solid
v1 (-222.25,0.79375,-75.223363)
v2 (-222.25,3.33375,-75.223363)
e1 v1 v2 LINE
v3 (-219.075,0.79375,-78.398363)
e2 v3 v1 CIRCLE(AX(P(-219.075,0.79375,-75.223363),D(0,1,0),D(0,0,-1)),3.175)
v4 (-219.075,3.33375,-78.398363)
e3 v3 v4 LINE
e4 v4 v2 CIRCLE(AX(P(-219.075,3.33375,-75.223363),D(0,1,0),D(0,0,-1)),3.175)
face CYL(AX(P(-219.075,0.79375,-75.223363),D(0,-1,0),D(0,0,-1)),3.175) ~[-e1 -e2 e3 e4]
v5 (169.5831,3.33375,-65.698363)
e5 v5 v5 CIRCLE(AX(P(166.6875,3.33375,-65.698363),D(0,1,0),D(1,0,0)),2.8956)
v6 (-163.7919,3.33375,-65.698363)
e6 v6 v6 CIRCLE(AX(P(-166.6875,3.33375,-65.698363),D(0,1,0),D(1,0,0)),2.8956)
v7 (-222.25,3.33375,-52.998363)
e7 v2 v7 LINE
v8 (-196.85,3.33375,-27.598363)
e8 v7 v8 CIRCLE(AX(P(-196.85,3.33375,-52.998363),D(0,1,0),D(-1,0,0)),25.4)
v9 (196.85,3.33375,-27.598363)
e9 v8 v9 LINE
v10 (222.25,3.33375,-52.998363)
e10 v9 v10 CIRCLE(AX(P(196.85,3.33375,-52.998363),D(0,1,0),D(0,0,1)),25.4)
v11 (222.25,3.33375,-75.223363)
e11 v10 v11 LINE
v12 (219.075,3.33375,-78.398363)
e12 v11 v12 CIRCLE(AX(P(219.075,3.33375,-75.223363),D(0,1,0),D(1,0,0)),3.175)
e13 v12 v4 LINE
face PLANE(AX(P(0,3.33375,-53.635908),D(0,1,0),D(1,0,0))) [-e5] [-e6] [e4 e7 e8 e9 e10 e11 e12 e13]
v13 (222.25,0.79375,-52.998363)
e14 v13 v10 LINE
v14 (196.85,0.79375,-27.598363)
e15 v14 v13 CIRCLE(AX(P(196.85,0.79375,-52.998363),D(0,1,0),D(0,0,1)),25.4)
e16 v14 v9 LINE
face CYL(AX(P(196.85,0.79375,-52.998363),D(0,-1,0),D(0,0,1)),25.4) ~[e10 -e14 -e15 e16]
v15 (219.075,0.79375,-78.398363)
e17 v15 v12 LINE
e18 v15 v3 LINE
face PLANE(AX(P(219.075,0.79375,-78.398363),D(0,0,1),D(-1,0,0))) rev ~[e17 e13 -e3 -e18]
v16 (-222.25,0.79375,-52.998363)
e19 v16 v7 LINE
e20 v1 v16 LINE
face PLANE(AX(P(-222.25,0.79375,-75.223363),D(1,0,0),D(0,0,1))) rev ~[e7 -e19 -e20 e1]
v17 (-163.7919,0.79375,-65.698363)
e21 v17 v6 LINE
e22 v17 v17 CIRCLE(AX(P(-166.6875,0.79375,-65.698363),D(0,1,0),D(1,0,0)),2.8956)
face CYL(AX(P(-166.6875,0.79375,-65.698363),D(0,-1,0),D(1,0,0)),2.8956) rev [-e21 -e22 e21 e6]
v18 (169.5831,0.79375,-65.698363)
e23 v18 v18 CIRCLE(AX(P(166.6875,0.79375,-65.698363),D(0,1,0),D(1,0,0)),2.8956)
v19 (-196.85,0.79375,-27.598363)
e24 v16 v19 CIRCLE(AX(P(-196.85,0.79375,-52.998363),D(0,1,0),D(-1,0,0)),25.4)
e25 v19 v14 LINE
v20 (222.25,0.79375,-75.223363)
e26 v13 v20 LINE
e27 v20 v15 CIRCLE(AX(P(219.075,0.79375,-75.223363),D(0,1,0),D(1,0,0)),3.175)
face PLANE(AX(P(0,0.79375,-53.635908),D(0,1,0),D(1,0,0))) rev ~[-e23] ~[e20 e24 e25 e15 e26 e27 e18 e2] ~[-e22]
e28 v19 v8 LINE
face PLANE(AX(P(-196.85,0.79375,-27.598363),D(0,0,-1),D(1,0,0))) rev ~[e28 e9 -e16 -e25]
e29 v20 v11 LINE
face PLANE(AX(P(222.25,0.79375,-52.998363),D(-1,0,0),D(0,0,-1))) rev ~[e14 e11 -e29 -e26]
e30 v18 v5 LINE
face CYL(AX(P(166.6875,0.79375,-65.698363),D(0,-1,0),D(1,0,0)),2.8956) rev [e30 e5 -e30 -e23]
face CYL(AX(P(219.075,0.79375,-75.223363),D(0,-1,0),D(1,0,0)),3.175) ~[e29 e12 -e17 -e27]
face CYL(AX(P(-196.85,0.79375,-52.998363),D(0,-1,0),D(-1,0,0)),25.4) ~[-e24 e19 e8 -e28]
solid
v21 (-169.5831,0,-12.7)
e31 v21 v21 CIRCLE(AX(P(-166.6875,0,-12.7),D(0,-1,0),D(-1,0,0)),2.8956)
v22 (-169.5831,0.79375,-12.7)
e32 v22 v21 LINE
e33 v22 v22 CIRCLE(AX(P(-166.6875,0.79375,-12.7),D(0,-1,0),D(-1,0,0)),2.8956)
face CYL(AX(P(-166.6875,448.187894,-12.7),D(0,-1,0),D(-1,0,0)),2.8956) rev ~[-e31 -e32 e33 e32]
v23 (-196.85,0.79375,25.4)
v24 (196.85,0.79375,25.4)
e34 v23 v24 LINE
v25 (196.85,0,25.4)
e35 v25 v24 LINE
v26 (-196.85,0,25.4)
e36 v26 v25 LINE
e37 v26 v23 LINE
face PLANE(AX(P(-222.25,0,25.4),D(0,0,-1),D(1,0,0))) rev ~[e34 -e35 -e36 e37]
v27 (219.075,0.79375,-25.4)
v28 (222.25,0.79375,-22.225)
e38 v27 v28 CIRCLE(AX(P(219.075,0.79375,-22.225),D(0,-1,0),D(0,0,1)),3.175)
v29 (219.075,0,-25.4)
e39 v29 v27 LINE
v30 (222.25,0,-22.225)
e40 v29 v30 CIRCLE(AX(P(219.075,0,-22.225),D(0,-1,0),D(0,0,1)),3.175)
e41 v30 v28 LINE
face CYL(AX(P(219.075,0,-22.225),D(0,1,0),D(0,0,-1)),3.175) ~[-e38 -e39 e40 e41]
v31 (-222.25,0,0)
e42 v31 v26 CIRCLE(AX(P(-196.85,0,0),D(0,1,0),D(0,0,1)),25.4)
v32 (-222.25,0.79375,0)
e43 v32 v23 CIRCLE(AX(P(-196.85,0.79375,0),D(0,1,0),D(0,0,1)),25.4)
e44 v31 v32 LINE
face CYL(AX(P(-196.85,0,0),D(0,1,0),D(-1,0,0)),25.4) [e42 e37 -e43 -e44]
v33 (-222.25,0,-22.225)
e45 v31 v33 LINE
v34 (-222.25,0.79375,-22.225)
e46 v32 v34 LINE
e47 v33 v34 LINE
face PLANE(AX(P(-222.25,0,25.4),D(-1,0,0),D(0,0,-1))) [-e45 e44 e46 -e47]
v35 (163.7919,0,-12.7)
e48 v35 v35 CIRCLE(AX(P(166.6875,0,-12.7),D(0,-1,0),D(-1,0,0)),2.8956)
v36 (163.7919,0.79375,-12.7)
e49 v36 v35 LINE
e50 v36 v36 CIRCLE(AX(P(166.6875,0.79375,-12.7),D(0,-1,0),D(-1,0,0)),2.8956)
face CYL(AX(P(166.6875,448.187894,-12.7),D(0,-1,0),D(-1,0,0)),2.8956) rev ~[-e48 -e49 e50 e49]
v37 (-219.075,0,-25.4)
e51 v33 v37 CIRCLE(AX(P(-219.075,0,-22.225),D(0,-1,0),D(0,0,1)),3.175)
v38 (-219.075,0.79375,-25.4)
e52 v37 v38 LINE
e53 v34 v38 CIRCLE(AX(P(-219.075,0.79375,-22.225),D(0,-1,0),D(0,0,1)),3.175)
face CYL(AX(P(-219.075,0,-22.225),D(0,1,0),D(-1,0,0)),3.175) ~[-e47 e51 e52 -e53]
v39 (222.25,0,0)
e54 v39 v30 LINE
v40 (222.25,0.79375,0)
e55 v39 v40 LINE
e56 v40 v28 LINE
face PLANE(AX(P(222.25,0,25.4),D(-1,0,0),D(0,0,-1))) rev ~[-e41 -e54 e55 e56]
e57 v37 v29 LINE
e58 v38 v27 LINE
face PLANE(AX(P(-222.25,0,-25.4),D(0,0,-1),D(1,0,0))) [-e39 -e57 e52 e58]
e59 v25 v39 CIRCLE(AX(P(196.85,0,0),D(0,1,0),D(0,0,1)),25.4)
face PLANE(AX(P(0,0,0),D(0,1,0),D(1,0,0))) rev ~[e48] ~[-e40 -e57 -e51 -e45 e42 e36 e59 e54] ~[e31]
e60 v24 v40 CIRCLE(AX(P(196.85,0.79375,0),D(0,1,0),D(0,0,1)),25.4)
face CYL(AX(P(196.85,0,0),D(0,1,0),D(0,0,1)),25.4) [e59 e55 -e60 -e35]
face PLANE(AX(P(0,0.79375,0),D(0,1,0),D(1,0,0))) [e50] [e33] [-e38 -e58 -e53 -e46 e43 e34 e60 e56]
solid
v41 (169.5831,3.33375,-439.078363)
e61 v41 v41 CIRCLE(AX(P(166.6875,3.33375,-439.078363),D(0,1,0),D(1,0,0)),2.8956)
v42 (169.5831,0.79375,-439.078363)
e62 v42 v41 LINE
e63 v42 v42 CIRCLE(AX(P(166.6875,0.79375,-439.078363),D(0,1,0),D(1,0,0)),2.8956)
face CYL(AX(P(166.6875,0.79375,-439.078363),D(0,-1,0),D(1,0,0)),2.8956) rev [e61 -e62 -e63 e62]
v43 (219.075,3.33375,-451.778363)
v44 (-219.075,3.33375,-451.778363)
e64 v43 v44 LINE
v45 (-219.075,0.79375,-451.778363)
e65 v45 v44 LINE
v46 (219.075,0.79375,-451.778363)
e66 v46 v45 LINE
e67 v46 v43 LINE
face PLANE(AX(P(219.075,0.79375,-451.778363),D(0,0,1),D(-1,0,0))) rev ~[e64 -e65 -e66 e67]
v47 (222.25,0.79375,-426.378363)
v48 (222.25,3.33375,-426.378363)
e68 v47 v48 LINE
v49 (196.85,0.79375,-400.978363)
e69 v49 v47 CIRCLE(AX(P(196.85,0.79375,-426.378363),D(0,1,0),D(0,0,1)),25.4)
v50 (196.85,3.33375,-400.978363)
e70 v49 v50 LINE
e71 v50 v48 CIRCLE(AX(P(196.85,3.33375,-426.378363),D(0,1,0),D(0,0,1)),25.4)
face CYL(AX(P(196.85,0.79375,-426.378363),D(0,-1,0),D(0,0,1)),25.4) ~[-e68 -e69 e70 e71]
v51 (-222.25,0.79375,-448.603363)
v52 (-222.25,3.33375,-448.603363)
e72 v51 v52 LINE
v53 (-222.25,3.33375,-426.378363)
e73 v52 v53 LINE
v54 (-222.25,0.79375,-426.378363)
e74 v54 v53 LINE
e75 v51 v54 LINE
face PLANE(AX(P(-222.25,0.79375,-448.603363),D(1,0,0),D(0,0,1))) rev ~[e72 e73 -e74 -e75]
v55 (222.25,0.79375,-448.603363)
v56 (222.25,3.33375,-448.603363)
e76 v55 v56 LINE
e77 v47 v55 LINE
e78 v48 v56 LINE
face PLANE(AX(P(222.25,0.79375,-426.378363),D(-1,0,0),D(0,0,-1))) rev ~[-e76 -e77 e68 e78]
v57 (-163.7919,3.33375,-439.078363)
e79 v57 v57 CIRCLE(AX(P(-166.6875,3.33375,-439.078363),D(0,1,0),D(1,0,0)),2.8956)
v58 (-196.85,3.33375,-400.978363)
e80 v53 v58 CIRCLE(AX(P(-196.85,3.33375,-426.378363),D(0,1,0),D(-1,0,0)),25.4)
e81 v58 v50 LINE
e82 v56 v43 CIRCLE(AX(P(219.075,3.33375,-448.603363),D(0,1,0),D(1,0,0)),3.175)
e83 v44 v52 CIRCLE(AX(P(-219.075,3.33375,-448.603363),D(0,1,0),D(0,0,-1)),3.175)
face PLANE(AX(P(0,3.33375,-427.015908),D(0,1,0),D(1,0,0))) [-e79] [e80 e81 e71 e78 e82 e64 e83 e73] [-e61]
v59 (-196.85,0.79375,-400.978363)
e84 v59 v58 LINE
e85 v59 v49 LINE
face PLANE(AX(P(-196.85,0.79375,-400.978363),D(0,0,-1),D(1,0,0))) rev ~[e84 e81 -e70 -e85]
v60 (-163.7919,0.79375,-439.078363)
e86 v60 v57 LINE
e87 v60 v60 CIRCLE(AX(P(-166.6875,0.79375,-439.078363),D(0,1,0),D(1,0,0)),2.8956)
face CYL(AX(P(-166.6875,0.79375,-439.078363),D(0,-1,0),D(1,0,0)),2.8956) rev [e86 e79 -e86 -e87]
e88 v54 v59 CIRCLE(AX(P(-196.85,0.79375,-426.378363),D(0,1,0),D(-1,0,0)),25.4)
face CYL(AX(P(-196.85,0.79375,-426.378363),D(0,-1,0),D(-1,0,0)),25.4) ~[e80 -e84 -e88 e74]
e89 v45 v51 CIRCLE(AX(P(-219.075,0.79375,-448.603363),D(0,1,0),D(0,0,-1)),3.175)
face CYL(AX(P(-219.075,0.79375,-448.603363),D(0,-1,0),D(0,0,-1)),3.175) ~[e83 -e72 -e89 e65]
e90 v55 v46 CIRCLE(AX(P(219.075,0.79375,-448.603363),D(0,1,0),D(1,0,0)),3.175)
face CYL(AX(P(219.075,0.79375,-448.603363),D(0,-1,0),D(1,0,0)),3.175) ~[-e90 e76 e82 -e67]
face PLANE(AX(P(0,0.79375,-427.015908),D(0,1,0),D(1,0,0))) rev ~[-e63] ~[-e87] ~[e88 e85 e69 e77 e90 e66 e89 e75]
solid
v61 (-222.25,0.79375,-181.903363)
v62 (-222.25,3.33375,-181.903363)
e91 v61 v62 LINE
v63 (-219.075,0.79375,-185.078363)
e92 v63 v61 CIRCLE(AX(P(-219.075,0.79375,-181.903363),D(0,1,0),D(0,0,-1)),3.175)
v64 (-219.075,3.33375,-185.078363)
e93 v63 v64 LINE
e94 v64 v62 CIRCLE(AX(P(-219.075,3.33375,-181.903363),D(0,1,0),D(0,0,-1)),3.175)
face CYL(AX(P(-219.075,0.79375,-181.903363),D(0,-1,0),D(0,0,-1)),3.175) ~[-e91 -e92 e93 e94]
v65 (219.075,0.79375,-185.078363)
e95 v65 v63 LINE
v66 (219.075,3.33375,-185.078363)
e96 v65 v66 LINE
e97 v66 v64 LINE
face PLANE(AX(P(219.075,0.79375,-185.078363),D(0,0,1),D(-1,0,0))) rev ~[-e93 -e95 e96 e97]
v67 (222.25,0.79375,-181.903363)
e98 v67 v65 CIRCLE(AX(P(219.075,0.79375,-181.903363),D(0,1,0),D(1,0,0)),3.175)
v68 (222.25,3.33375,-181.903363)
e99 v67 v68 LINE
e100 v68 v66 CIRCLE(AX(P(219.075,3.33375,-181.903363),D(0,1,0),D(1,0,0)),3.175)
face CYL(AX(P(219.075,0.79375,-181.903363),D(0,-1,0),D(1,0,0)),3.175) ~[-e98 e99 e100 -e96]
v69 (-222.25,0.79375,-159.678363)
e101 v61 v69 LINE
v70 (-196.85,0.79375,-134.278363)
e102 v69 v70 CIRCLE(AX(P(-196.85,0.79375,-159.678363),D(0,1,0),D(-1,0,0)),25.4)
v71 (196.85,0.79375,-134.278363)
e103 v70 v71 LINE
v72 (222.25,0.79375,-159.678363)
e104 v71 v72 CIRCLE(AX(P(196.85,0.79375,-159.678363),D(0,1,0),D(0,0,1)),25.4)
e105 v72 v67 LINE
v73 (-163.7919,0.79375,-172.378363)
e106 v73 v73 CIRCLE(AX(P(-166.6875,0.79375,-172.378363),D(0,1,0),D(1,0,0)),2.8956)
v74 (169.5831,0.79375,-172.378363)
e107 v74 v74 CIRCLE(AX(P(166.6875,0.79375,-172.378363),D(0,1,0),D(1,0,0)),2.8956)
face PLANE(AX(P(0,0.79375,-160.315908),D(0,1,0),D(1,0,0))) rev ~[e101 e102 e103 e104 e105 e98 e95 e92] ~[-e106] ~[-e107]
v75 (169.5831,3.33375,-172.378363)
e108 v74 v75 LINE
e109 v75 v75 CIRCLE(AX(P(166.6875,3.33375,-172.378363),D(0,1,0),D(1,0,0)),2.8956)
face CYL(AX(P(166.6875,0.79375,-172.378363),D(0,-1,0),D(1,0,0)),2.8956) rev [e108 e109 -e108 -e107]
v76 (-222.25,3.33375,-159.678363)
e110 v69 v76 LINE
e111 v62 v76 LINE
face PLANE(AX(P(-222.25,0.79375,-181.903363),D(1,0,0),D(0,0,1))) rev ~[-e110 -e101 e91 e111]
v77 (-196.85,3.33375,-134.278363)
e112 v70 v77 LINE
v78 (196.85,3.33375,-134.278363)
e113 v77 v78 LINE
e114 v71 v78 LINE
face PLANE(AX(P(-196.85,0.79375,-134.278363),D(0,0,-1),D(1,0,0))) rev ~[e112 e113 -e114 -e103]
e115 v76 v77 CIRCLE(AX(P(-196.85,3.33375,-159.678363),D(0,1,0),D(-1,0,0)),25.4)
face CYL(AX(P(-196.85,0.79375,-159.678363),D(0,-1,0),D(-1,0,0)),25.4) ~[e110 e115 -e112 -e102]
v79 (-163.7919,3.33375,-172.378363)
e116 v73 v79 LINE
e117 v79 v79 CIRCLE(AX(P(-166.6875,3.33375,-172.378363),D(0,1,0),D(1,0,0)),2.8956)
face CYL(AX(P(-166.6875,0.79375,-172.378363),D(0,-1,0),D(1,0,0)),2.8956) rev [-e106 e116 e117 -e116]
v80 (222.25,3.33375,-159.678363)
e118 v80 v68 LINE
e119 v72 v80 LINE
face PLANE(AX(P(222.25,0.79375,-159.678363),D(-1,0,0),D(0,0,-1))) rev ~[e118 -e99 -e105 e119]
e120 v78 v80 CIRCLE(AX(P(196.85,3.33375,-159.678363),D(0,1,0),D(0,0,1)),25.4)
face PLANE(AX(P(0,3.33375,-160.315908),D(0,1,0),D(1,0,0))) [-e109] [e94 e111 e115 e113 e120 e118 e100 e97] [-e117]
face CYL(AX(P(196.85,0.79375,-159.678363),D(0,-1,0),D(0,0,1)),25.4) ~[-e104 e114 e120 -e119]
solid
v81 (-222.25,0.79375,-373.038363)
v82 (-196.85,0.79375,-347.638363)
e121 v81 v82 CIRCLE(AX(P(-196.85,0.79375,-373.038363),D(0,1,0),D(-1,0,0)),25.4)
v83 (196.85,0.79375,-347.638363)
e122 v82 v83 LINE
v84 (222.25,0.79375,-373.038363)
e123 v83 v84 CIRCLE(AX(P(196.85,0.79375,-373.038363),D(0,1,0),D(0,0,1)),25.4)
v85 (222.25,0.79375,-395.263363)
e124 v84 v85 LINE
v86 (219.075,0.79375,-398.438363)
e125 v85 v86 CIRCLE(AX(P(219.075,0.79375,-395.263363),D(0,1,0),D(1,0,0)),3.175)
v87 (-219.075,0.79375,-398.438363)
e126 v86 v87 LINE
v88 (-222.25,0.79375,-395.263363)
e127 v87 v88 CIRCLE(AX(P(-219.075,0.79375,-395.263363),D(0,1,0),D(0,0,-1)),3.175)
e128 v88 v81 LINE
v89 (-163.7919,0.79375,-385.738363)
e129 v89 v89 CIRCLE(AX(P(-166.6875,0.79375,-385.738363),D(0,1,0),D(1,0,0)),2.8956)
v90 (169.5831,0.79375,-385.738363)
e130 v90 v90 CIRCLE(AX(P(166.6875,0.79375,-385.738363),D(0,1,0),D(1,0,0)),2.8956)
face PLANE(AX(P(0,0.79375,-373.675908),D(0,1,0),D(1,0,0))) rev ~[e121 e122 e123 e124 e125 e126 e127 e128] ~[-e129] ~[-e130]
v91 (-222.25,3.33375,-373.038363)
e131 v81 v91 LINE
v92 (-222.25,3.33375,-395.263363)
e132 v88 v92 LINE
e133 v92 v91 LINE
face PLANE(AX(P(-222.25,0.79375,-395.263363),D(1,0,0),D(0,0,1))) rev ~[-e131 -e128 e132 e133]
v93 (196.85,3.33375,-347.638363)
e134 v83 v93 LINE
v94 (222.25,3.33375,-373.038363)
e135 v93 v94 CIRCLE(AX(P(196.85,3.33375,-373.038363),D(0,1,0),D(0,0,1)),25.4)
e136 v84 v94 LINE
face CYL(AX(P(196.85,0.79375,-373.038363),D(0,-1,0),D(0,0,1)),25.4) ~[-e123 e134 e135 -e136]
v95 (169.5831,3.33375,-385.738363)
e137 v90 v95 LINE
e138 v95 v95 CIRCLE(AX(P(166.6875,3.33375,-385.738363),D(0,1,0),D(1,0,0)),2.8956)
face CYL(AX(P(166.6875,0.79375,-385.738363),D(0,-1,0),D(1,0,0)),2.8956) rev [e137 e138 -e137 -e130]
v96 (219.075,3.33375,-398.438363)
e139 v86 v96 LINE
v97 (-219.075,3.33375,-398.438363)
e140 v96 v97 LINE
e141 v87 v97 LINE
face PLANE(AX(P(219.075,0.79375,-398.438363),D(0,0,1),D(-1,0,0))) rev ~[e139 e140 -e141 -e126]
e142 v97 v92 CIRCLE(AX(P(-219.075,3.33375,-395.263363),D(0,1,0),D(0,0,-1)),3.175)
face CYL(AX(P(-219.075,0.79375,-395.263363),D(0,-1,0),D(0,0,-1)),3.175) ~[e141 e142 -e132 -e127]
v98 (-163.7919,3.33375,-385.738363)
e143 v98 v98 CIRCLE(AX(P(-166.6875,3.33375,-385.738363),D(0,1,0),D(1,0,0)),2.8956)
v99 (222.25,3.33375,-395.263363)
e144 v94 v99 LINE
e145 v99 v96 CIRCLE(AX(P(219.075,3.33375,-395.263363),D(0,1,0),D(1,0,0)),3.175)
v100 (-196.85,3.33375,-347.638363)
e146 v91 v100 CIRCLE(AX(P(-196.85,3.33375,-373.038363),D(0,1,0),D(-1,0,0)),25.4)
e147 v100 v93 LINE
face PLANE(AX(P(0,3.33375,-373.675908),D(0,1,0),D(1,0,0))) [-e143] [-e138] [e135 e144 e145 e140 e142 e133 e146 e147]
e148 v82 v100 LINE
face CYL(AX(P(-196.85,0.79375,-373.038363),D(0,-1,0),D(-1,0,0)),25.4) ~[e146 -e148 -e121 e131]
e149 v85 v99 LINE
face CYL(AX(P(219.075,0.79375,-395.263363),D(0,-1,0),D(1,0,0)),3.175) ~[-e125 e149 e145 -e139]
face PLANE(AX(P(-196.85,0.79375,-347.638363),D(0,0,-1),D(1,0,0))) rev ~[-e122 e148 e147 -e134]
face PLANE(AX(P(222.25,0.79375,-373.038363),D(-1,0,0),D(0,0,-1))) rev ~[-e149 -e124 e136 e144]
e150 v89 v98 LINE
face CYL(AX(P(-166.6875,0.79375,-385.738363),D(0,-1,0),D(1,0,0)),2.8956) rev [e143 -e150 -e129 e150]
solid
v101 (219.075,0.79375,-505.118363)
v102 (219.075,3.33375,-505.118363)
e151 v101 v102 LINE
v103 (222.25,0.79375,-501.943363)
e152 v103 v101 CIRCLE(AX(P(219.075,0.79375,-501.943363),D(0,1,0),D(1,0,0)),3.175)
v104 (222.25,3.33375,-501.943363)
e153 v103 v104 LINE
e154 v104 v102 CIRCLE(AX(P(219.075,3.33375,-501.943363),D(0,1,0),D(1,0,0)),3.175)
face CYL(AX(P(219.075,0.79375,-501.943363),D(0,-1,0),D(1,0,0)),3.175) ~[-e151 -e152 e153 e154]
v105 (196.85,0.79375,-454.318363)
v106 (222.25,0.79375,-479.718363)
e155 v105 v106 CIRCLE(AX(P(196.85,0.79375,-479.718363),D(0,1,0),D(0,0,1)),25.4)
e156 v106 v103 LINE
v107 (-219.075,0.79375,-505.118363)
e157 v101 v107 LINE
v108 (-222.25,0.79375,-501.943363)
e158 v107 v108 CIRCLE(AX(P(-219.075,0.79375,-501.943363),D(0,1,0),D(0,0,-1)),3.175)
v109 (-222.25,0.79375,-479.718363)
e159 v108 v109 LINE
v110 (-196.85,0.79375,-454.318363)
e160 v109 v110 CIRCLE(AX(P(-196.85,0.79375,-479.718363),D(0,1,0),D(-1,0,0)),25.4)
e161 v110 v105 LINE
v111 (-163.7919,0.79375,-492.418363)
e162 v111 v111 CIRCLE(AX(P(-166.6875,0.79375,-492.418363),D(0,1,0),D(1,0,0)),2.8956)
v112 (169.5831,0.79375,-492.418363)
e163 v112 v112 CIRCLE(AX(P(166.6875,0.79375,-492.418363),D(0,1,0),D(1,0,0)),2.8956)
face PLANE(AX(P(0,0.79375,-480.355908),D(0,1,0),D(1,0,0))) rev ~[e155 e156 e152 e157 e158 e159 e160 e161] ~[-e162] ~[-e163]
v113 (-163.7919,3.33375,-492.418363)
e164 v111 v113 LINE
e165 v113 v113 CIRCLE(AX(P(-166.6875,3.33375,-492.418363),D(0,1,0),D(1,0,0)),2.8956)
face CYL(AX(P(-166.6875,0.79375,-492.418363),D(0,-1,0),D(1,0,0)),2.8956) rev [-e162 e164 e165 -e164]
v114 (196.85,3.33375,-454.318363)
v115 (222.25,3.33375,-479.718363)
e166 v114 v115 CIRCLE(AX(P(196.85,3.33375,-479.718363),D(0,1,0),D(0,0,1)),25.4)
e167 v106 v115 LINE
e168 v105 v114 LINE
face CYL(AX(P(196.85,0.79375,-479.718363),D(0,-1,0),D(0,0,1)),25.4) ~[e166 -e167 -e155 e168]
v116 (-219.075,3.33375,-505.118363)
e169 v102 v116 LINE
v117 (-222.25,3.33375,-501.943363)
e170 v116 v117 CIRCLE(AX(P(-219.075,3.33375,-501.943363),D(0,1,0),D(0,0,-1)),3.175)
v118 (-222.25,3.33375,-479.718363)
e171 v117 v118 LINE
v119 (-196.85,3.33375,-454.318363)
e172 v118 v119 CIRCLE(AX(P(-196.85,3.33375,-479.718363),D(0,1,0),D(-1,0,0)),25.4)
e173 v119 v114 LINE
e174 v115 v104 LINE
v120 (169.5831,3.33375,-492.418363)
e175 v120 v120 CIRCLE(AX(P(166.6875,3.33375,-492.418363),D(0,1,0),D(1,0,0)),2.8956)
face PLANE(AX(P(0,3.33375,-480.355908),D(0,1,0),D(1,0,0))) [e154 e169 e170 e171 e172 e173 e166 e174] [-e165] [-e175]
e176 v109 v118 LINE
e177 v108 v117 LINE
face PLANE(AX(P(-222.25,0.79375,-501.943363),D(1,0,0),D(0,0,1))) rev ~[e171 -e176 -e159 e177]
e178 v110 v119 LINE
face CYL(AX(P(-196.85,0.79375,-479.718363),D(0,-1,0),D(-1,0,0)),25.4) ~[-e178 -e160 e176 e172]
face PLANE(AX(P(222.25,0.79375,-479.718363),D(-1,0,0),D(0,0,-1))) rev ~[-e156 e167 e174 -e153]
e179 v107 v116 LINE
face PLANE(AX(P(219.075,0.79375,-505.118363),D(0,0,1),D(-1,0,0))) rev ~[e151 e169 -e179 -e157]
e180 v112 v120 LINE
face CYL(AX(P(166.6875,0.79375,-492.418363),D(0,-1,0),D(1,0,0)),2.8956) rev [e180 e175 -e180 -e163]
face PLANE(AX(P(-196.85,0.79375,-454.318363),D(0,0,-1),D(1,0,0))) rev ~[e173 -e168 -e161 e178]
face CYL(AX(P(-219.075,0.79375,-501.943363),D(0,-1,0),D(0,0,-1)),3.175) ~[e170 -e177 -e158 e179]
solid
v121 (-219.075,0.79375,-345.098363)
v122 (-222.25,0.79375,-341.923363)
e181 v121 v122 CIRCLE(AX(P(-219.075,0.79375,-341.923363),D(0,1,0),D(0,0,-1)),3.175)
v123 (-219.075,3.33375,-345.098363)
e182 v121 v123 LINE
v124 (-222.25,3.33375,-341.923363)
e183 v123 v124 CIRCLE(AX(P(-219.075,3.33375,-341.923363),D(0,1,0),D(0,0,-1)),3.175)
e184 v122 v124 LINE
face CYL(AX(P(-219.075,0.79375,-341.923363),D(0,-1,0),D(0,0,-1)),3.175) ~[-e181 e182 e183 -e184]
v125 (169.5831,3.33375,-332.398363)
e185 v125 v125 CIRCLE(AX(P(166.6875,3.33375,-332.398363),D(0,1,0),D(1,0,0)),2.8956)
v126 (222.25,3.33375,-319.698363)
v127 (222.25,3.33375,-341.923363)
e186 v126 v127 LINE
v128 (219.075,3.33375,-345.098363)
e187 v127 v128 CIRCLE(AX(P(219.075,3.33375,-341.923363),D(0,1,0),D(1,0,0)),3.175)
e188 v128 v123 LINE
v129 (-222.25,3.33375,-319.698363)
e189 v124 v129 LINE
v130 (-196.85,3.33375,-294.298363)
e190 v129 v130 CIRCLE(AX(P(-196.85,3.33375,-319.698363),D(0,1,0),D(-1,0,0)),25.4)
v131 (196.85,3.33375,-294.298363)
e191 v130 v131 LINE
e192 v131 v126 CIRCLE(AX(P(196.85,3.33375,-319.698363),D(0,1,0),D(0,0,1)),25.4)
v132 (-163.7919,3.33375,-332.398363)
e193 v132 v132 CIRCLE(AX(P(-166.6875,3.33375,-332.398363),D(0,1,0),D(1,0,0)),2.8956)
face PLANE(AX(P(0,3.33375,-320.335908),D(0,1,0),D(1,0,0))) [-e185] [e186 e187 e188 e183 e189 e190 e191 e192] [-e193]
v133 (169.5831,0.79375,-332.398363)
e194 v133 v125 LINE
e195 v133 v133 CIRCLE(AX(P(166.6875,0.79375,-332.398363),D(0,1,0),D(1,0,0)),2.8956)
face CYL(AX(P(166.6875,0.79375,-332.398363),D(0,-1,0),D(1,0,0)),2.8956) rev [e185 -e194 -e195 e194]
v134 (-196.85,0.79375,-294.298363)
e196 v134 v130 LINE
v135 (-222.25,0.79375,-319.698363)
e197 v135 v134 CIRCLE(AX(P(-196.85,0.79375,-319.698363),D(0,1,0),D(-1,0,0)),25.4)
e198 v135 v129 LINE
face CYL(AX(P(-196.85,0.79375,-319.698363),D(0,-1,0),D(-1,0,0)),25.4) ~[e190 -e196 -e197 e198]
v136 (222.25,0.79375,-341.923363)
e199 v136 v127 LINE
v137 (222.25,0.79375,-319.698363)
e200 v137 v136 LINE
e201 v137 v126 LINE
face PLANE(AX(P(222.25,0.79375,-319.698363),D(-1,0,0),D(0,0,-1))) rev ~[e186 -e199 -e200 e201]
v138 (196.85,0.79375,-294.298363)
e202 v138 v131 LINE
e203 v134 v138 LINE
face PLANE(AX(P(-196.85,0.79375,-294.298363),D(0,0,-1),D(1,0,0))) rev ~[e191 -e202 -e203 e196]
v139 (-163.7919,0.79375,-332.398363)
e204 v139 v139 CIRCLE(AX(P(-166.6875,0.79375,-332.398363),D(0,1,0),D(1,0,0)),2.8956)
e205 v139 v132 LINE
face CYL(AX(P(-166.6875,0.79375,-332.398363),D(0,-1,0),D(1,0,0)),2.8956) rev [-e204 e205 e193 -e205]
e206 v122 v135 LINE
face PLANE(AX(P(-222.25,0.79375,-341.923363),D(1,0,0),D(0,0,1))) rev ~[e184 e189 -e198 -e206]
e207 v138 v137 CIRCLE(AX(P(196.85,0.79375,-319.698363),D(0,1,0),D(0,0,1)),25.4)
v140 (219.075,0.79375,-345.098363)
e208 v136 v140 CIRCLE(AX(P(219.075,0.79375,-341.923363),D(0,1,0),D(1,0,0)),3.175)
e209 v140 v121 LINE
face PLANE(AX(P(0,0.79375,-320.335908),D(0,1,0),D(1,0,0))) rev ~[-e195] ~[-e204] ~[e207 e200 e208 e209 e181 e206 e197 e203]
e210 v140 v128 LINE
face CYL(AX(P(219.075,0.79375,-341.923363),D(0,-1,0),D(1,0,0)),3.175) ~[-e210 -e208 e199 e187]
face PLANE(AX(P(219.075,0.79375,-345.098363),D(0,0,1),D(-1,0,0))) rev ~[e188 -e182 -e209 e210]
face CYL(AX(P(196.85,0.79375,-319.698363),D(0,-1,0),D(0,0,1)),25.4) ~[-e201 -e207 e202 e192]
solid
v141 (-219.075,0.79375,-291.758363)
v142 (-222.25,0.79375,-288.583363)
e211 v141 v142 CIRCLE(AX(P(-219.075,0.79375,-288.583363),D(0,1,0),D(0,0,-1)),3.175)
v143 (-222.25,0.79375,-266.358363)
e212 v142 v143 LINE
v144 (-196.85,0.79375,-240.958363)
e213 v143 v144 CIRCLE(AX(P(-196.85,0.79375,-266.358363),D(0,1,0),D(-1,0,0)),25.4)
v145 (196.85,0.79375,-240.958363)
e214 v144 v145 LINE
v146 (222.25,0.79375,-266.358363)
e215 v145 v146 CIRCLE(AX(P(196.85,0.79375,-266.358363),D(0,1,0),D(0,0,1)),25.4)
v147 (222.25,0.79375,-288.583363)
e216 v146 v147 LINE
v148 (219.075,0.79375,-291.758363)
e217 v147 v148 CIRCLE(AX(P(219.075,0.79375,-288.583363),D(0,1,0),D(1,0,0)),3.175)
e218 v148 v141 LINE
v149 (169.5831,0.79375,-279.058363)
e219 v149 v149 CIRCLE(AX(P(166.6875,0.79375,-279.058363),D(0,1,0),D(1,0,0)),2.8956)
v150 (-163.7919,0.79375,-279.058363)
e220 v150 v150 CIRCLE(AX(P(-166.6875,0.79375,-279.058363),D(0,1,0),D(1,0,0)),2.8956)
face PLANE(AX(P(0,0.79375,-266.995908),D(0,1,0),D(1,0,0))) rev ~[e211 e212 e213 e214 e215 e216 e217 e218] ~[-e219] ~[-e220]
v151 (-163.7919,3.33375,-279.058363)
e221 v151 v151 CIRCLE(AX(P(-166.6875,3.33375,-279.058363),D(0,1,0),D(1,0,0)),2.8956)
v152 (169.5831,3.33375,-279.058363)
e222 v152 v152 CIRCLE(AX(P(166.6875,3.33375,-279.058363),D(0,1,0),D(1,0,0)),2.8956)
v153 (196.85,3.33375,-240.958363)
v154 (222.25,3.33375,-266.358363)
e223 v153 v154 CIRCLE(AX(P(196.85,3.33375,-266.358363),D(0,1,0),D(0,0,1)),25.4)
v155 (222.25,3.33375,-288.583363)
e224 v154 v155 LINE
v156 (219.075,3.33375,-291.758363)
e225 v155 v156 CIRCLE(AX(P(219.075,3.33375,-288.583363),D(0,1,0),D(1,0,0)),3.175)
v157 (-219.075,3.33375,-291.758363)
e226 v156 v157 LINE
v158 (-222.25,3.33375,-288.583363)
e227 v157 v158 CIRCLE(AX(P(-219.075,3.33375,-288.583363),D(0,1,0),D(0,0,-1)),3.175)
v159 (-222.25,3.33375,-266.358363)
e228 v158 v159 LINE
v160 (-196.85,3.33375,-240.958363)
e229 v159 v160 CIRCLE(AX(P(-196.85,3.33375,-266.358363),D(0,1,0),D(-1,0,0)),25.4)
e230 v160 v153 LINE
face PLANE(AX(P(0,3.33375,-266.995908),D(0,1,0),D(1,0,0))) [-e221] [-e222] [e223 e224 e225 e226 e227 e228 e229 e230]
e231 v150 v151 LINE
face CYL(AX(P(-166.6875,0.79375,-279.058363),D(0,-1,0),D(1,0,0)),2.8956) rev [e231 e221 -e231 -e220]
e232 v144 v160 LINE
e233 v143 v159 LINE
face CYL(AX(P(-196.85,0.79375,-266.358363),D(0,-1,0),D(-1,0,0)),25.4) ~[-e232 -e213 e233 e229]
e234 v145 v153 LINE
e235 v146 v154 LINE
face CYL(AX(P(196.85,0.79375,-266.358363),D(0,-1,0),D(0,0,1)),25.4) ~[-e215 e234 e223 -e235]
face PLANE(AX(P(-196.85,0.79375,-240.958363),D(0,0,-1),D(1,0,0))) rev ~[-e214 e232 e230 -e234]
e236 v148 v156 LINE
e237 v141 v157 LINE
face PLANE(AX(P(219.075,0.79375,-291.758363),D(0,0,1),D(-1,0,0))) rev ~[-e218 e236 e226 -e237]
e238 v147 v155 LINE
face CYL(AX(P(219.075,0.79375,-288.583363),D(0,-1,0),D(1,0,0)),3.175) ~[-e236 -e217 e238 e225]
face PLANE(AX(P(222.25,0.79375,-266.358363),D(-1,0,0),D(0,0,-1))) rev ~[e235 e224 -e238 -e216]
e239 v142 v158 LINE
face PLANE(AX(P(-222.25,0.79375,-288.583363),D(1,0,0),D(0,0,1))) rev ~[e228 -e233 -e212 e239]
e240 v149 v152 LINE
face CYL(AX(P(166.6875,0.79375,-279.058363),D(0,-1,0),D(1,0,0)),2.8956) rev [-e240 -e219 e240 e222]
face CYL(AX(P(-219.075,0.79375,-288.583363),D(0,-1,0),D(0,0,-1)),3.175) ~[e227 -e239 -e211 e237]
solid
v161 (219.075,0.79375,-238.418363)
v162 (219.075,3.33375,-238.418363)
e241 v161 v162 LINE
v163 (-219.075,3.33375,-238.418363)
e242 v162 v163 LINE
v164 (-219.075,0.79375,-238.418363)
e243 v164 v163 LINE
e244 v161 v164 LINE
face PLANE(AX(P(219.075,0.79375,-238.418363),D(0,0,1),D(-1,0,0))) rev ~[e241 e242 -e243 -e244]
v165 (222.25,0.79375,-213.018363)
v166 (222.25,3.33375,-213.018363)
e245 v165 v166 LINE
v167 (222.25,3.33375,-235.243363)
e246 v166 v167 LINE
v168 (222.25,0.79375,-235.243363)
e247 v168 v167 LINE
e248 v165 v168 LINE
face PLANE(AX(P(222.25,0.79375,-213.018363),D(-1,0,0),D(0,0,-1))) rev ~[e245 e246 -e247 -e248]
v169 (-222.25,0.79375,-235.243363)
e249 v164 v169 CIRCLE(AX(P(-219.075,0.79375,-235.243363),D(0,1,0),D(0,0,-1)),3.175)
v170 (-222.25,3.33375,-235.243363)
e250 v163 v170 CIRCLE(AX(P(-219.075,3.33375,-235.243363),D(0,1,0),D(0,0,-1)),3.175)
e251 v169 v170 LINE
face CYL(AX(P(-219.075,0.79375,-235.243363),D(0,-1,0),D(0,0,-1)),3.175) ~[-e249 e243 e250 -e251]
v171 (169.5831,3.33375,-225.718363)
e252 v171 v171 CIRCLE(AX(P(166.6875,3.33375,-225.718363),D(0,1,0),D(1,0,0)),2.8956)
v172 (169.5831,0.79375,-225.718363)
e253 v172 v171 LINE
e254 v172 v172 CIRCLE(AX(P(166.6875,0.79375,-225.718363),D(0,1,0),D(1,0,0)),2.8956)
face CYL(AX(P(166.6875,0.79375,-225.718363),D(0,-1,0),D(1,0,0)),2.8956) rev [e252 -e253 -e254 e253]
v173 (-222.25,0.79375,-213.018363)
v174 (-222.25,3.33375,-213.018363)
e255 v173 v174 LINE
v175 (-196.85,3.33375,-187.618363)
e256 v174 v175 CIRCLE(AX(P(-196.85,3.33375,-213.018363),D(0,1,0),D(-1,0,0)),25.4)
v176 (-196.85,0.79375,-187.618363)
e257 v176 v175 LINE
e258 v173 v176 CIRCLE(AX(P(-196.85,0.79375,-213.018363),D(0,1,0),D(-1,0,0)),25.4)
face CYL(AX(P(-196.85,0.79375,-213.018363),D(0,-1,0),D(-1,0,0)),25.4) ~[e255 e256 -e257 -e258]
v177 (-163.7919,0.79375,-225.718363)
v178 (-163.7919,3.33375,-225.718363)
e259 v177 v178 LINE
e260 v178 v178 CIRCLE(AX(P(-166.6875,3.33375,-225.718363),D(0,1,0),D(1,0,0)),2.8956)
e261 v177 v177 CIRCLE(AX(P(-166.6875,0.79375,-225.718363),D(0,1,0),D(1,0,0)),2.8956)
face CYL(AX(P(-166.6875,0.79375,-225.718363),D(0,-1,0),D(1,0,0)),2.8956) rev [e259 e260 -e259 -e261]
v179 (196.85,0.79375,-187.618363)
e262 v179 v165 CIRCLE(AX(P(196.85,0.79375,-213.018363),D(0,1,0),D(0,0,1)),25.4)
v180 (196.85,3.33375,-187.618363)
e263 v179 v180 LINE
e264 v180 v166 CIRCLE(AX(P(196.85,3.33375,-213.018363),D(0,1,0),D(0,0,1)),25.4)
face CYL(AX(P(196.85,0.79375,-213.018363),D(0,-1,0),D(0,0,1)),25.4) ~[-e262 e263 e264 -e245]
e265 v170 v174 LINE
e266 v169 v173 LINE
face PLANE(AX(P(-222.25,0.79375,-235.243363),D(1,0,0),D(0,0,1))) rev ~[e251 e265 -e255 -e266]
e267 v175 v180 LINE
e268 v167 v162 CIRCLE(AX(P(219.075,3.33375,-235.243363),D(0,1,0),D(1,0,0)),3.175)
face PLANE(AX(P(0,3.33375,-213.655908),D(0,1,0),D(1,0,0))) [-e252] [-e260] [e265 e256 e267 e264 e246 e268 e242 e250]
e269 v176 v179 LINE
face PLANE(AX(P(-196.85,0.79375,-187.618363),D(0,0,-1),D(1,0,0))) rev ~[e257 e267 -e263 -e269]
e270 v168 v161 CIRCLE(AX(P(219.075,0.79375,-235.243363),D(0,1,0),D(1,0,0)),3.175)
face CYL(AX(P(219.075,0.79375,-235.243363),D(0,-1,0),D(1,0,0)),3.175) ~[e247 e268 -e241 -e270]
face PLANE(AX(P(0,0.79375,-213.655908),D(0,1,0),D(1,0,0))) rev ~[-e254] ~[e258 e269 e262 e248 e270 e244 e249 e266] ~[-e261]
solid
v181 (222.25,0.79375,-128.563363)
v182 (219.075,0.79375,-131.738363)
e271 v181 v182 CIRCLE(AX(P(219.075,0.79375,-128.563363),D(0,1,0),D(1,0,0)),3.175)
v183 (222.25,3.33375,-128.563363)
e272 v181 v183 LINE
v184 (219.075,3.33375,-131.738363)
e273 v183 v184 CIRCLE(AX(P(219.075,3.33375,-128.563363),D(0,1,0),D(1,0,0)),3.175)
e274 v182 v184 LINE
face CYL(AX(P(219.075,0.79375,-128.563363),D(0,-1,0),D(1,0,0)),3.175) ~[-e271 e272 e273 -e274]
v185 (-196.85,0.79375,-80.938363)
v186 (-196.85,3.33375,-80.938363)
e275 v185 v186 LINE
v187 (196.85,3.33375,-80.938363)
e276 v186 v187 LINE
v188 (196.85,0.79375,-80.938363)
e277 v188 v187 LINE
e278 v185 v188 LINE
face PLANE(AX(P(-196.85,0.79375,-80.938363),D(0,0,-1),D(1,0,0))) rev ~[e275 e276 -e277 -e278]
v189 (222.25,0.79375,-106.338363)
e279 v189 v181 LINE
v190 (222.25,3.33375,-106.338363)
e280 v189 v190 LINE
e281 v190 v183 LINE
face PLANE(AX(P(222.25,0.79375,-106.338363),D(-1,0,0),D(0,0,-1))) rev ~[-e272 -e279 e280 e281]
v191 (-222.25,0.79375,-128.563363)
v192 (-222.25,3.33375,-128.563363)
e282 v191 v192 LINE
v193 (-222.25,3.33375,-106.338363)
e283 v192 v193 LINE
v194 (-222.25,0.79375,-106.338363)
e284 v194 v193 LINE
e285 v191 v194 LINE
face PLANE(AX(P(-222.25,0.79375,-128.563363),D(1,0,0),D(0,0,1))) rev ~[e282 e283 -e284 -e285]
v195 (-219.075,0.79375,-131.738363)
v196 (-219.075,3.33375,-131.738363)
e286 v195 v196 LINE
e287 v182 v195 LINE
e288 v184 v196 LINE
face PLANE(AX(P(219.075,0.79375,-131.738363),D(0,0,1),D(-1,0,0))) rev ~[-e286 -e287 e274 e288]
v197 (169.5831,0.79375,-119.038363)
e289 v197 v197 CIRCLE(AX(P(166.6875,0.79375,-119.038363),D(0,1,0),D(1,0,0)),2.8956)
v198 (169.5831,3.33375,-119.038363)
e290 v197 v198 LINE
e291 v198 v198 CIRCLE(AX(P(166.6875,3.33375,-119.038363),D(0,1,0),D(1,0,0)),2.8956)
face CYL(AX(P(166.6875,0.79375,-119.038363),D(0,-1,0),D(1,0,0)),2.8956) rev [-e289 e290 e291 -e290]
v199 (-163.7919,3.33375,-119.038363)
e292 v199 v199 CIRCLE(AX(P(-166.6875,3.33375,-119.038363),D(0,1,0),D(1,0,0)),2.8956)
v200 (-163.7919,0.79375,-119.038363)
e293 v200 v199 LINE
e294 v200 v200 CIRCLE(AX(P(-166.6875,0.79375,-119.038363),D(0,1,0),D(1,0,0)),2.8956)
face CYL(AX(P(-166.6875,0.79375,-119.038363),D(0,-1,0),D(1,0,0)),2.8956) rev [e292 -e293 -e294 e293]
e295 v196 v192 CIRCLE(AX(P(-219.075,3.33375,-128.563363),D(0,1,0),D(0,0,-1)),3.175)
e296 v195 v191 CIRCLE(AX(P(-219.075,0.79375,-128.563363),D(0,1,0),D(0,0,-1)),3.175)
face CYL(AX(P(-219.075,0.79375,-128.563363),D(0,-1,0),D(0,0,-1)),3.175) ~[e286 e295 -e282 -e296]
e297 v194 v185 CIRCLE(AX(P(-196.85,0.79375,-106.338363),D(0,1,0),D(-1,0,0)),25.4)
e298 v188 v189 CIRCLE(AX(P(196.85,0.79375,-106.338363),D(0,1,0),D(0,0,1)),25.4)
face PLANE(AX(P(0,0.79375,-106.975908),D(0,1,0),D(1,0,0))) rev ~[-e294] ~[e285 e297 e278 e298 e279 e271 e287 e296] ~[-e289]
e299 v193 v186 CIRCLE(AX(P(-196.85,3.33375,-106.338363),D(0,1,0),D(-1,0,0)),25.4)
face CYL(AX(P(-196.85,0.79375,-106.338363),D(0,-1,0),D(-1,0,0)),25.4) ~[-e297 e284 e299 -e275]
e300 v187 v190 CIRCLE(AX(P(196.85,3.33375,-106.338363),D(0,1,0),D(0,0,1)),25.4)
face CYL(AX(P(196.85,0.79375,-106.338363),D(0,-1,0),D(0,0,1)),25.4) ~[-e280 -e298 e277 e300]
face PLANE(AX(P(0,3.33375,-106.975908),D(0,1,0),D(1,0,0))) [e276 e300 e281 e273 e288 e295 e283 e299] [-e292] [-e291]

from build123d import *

# Parameters (mm, degrees)
SKETCH1_W                  = 444.5
SKETCH1_H                  = 50.8
BOSS_EXTRUDE1_DEPTH        = 0.79375
FILLET1_R                  = 25.4
FILLET2_R                  = 3.175
F_1_0_228_DIAMETER_HOLE1_D = 5.7912
SKETCH4_R                  = 2.8956
BOSS_EXTRUDE2_DEPTH        = 2.54
BOSS_EXTRUDE2_2_DEPTH      = 2.54
BOSS_EXTRUDE2_3_DEPTH      = 2.54
BOSS_EXTRUDE2_4_DEPTH      = 2.54
BOSS_EXTRUDE2_5_DEPTH      = 2.54
BOSS_EXTRUDE2_6_DEPTH      = 2.54
BOSS_EXTRUDE2_7_DEPTH      = 2.54
BOSS_EXTRUDE2_8_DEPTH      = 2.54
BOSS_EXTRUDE2_9_DEPTH      = 2.54


with BuildPart() as part:
    # Sketch1 → Boss-Extrude1 (new body)
    with BuildSketch(Plane(origin=(0, 0, 0), x_dir=(1, 0, 0), z_dir=(0, 1, 0))):
        Rectangle(SKETCH1_W, SKETCH1_H)
    extrude(amount=BOSS_EXTRUDE1_DEPTH)

    # Fillet1
    fillet1_edges = [part.edges().sort_by_distance(p)[0] for p in [
        (222.25, 0.396875, 25.4),
        (-222.25, 0.396875, 25.4),
    ]]
    fillet(fillet1_edges, radius=FILLET1_R)

    # Fillet2
    fillet2_edges = [part.edges().sort_by_distance(p)[0] for p in [
        (-222.25, 0.396875, -25.4),
        (222.25, 0.396875, -25.4),
    ]]
    fillet(fillet2_edges, radius=FILLET2_R)

    # #1 (0.228) Diameter Hole1 (through all)
    with Locations(Plane(origin=(0, 0.79375, 0), x_dir=(1, 0, 0), z_dir=(0, 1, 0))):
        with Locations((166.6875, 12.7), (-166.6875, 12.7)):
            Hole(F_1_0_228_DIAMETER_HOLE1_D / 2)


with BuildPart() as body_2:
    # Sketch4 → Boss-Extrude2 (new body)
    with BuildSketch(Plane(origin=(0, 0.79375, 0), x_dir=(1, 0, 0), z_dir=(0, 1, 0))):
        with BuildLine():
            Line((222.25, 52.998363175), (222.25, 75.223363175))
            ThreePointArc((222.25, 75.223363175), (221.32006403, 77.468427205), (219.075, 78.398363175))
            Line((219.075, 78.398363175), (-219.075, 78.398363175))
            ThreePointArc((-219.075, 78.398363175), (-221.32006403, 77.468427205), (-222.25, 75.223363175))
            Line((-222.25, 75.223363175), (-222.25, 52.998363175))
            ThreePointArc((-222.25, 52.998363175), (-214.810512242, 35.037850933), (-196.85, 27.598363175))
            Line((-196.85, 27.598363175), (196.85, 27.598363175))
            ThreePointArc((196.85, 27.598363175), (214.810512242, 35.037850933), (222.25, 52.998363175))
        make_face()
        with Locations((-166.6875, 65.698363175)):
            Circle(SKETCH4_R, mode=Mode.SUBTRACT)
        with Locations((166.6875, 65.698363175)):
            Circle(SKETCH4_R, mode=Mode.SUBTRACT)
    extrude(amount=BOSS_EXTRUDE2_DEPTH)


with BuildPart() as body_3:
    # Sketch4 → Boss-Extrude2 2 (new body)
    with BuildSketch(Plane(origin=(0, 0.79375, 0), x_dir=(1, 0, 0), z_dir=(0, 1, 0))):
        with BuildLine():
            Line((222.25, 106.338363175), (222.25, 128.563363175))
            ThreePointArc((222.25, 128.563363175), (221.32006403, 130.808427205), (219.075, 131.738363175))
            Line((219.075, 131.738363175), (-219.075, 131.738363175))
            ThreePointArc((-219.075, 131.738363175), (-221.32006403, 130.808427205), (-222.25, 128.563363175))
            Line((-222.25, 128.563363175), (-222.25, 106.338363175))
            ThreePointArc((-222.25, 106.338363175), (-214.810512242, 88.377850933), (-196.85, 80.938363175))
            Line((-196.85, 80.938363175), (196.85, 80.938363175))
            ThreePointArc((196.85, 80.938363175), (214.810512242, 88.377850933), (222.25, 106.338363175))
        make_face()
        with Locations((-166.6875, 119.038363175)):
            Circle(SKETCH4_R, mode=Mode.SUBTRACT)
        with Locations((166.6875, 119.038363175)):
            Circle(SKETCH4_R, mode=Mode.SUBTRACT)
    extrude(amount=BOSS_EXTRUDE2_2_DEPTH)


with BuildPart() as body_4:
    # Sketch4 → Boss-Extrude2 3 (new body)
    with BuildSketch(Plane(origin=(0, 0.79375, 0), x_dir=(1, 0, 0), z_dir=(0, 1, 0))):
        with BuildLine():
            Line((222.25, 159.678363175), (222.25, 181.903363175))
            ThreePointArc((222.25, 181.903363175), (221.32006403, 184.148427205), (219.075, 185.078363175))
            Line((219.075, 185.078363175), (-219.075, 185.078363175))
            ThreePointArc((-219.075, 185.078363175), (-221.32006403, 184.148427205), (-222.25, 181.903363175))
            Line((-222.25, 181.903363175), (-222.25, 159.678363175))
            ThreePointArc((-222.25, 159.678363175), (-214.810512242, 141.717850933), (-196.85, 134.278363175))
            Line((-196.85, 134.278363175), (196.85, 134.278363175))
            ThreePointArc((196.85, 134.278363175), (214.810512242, 141.717850933), (222.25, 159.678363175))
        make_face()
        with Locations((-166.6875, 172.378363175)):
            Circle(SKETCH4_R, mode=Mode.SUBTRACT)
        with Locations((166.6875, 172.378363175)):
            Circle(SKETCH4_R, mode=Mode.SUBTRACT)
    extrude(amount=BOSS_EXTRUDE2_3_DEPTH)


with BuildPart() as body_5:
    # Sketch4 → Boss-Extrude2 4 (new body)
    with BuildSketch(Plane(origin=(0, 0.79375, 0), x_dir=(1, 0, 0), z_dir=(0, 1, 0))):
        with BuildLine():
            Line((222.25, 213.018363175), (222.25, 235.243363175))
            ThreePointArc((222.25, 235.243363175), (221.32006403, 237.488427205), (219.075, 238.418363175))
            Line((219.075, 238.418363175), (-219.075, 238.418363175))
            ThreePointArc((-219.075, 238.418363175), (-221.32006403, 237.488427205), (-222.25, 235.243363175))
            Line((-222.25, 235.243363175), (-222.25, 213.018363175))
            ThreePointArc((-222.25, 213.018363175), (-214.810512242, 195.057850933), (-196.85, 187.618363175))
            Line((-196.85, 187.618363175), (196.85, 187.618363175))
            ThreePointArc((196.85, 187.618363175), (214.810512242, 195.057850933), (222.25, 213.018363175))
        make_face()
        with Locations((-166.6875, 225.718363175)):
            Circle(SKETCH4_R, mode=Mode.SUBTRACT)
        with Locations((166.6875, 225.718363175)):
            Circle(SKETCH4_R, mode=Mode.SUBTRACT)
    extrude(amount=BOSS_EXTRUDE2_4_DEPTH)


with BuildPart() as body_6:
    # Sketch4 → Boss-Extrude2 5 (new body)
    with BuildSketch(Plane(origin=(0, 0.79375, 0), x_dir=(1, 0, 0), z_dir=(0, 1, 0))):
        with BuildLine():
            Line((222.25, 266.358363175), (222.25, 288.583363175))
            ThreePointArc((222.25, 288.583363175), (221.32006403, 290.828427205), (219.075, 291.758363175))
            Line((219.075, 291.758363175), (-219.075, 291.758363175))
            ThreePointArc((-219.075, 291.758363175), (-221.32006403, 290.828427205), (-222.25, 288.583363175))
            Line((-222.25, 288.583363175), (-222.25, 266.358363175))
            ThreePointArc((-222.25, 266.358363175), (-214.810512242, 248.397850933), (-196.85, 240.958363175))
            Line((-196.85, 240.958363175), (196.85, 240.958363175))
            ThreePointArc((196.85, 240.958363175), (214.810512242, 248.397850933), (222.25, 266.358363175))
        make_face()
        with Locations((-166.6875, 279.058363175)):
            Circle(SKETCH4_R, mode=Mode.SUBTRACT)
        with Locations((166.6875, 279.058363175)):
            Circle(SKETCH4_R, mode=Mode.SUBTRACT)
    extrude(amount=BOSS_EXTRUDE2_5_DEPTH)


with BuildPart() as body_7:
    # Sketch4 → Boss-Extrude2 6 (new body)
    with BuildSketch(Plane(origin=(0, 0.79375, 0), x_dir=(1, 0, 0), z_dir=(0, 1, 0))):
        with BuildLine():
            Line((222.25, 319.698363175), (222.25, 341.923363175))
            ThreePointArc((222.25, 341.923363175), (221.32006403, 344.168427205), (219.075, 345.098363175))
            Line((219.075, 345.098363175), (-219.075, 345.098363175))
            ThreePointArc((-219.075, 345.098363175), (-221.32006403, 344.168427205), (-222.25, 341.923363175))
            Line((-222.25, 341.923363175), (-222.25, 319.698363175))
            ThreePointArc((-222.25, 319.698363175), (-214.810512242, 301.737850933), (-196.85, 294.298363175))
            Line((-196.85, 294.298363175), (196.85, 294.298363175))
            ThreePointArc((196.85, 294.298363175), (214.810512242, 301.737850933), (222.25, 319.698363175))
        make_face()
        with Locations((-166.6875, 332.398363175)):
            Circle(SKETCH4_R, mode=Mode.SUBTRACT)
        with Locations((166.6875, 332.398363175)):
            Circle(SKETCH4_R, mode=Mode.SUBTRACT)
    extrude(amount=BOSS_EXTRUDE2_6_DEPTH)


with BuildPart() as body_8:
    # Sketch4 → Boss-Extrude2 7 (new body)
    with BuildSketch(Plane(origin=(0, 0.79375, 0), x_dir=(1, 0, 0), z_dir=(0, 1, 0))):
        with BuildLine():
            Line((222.25, 373.038363175), (222.25, 395.263363175))
            ThreePointArc((222.25, 395.263363175), (221.32006403, 397.508427205), (219.075, 398.438363175))
            Line((219.075, 398.438363175), (-219.075, 398.438363175))
            ThreePointArc((-219.075, 398.438363175), (-221.32006403, 397.508427205), (-222.25, 395.263363175))
            Line((-222.25, 395.263363175), (-222.25, 373.038363175))
            ThreePointArc((-222.25, 373.038363175), (-214.810512242, 355.077850933), (-196.85, 347.638363175))
            Line((-196.85, 347.638363175), (196.85, 347.638363175))
            ThreePointArc((196.85, 347.638363175), (214.810512242, 355.077850933), (222.25, 373.038363175))
        make_face()
        with Locations((-166.6875, 385.738363175)):
            Circle(SKETCH4_R, mode=Mode.SUBTRACT)
        with Locations((166.6875, 385.738363175)):
            Circle(SKETCH4_R, mode=Mode.SUBTRACT)
    extrude(amount=BOSS_EXTRUDE2_7_DEPTH)


with BuildPart() as body_9:
    # Sketch4 → Boss-Extrude2 8 (new body)
    with BuildSketch(Plane(origin=(0, 0.79375, 0), x_dir=(1, 0, 0), z_dir=(0, 1, 0))):
        with BuildLine():
            Line((222.25, 426.378363175), (222.25, 448.603363175))
            ThreePointArc((222.25, 448.603363175), (221.32006403, 450.848427205), (219.075, 451.778363175))
            Line((219.075, 451.778363175), (-219.075, 451.778363175))
            ThreePointArc((-219.075, 451.778363175), (-221.32006403, 450.848427205), (-222.25, 448.603363175))
            Line((-222.25, 448.603363175), (-222.25, 426.378363175))
            ThreePointArc((-222.25, 426.378363175), (-214.810512242, 408.417850933), (-196.85, 400.978363175))
            Line((-196.85, 400.978363175), (196.85, 400.978363175))
            ThreePointArc((196.85, 400.978363175), (214.810512242, 408.417850933), (222.25, 426.378363175))
        make_face()
        with Locations((-166.6875, 439.078363175)):
            Circle(SKETCH4_R, mode=Mode.SUBTRACT)
        with Locations((166.6875, 439.078363175)):
            Circle(SKETCH4_R, mode=Mode.SUBTRACT)
    extrude(amount=BOSS_EXTRUDE2_8_DEPTH)


with BuildPart() as body_10:
    # Sketch4 → Boss-Extrude2 9 (new body)
    with BuildSketch(Plane(origin=(0, 0.79375, 0), x_dir=(1, 0, 0), z_dir=(0, 1, 0))):
        with BuildLine():
            Line((222.25, 479.718363175), (222.25, 501.943363175))
            ThreePointArc((222.25, 501.943363175), (221.32006403, 504.188427205), (219.075, 505.118363175))
            Line((219.075, 505.118363175), (-219.075, 505.118363175))
            ThreePointArc((-219.075, 505.118363175), (-221.32006403, 504.188427205), (-222.25, 501.943363175))
            Line((-222.25, 501.943363175), (-222.25, 479.718363175))
            ThreePointArc((-222.25, 479.718363175), (-214.810512242, 461.757850933), (-196.85, 454.318363175))
            Line((-196.85, 454.318363175), (196.85, 454.318363175))
            ThreePointArc((196.85, 454.318363175), (214.810512242, 461.757850933), (222.25, 479.718363175))
        make_face()
        with Locations((-166.6875, 492.418363175)):
            Circle(SKETCH4_R, mode=Mode.SUBTRACT)
        with Locations((166.6875, 492.418363175)):
            Circle(SKETCH4_R, mode=Mode.SUBTRACT)
    extrude(amount=BOSS_EXTRUDE2_9_DEPTH)


solid = Compound([part.part, body_2.part, body_3.part, body_4.part, body_5.part, body_6.part, body_7.part, body_8.part, body_9.part, body_10.part])
